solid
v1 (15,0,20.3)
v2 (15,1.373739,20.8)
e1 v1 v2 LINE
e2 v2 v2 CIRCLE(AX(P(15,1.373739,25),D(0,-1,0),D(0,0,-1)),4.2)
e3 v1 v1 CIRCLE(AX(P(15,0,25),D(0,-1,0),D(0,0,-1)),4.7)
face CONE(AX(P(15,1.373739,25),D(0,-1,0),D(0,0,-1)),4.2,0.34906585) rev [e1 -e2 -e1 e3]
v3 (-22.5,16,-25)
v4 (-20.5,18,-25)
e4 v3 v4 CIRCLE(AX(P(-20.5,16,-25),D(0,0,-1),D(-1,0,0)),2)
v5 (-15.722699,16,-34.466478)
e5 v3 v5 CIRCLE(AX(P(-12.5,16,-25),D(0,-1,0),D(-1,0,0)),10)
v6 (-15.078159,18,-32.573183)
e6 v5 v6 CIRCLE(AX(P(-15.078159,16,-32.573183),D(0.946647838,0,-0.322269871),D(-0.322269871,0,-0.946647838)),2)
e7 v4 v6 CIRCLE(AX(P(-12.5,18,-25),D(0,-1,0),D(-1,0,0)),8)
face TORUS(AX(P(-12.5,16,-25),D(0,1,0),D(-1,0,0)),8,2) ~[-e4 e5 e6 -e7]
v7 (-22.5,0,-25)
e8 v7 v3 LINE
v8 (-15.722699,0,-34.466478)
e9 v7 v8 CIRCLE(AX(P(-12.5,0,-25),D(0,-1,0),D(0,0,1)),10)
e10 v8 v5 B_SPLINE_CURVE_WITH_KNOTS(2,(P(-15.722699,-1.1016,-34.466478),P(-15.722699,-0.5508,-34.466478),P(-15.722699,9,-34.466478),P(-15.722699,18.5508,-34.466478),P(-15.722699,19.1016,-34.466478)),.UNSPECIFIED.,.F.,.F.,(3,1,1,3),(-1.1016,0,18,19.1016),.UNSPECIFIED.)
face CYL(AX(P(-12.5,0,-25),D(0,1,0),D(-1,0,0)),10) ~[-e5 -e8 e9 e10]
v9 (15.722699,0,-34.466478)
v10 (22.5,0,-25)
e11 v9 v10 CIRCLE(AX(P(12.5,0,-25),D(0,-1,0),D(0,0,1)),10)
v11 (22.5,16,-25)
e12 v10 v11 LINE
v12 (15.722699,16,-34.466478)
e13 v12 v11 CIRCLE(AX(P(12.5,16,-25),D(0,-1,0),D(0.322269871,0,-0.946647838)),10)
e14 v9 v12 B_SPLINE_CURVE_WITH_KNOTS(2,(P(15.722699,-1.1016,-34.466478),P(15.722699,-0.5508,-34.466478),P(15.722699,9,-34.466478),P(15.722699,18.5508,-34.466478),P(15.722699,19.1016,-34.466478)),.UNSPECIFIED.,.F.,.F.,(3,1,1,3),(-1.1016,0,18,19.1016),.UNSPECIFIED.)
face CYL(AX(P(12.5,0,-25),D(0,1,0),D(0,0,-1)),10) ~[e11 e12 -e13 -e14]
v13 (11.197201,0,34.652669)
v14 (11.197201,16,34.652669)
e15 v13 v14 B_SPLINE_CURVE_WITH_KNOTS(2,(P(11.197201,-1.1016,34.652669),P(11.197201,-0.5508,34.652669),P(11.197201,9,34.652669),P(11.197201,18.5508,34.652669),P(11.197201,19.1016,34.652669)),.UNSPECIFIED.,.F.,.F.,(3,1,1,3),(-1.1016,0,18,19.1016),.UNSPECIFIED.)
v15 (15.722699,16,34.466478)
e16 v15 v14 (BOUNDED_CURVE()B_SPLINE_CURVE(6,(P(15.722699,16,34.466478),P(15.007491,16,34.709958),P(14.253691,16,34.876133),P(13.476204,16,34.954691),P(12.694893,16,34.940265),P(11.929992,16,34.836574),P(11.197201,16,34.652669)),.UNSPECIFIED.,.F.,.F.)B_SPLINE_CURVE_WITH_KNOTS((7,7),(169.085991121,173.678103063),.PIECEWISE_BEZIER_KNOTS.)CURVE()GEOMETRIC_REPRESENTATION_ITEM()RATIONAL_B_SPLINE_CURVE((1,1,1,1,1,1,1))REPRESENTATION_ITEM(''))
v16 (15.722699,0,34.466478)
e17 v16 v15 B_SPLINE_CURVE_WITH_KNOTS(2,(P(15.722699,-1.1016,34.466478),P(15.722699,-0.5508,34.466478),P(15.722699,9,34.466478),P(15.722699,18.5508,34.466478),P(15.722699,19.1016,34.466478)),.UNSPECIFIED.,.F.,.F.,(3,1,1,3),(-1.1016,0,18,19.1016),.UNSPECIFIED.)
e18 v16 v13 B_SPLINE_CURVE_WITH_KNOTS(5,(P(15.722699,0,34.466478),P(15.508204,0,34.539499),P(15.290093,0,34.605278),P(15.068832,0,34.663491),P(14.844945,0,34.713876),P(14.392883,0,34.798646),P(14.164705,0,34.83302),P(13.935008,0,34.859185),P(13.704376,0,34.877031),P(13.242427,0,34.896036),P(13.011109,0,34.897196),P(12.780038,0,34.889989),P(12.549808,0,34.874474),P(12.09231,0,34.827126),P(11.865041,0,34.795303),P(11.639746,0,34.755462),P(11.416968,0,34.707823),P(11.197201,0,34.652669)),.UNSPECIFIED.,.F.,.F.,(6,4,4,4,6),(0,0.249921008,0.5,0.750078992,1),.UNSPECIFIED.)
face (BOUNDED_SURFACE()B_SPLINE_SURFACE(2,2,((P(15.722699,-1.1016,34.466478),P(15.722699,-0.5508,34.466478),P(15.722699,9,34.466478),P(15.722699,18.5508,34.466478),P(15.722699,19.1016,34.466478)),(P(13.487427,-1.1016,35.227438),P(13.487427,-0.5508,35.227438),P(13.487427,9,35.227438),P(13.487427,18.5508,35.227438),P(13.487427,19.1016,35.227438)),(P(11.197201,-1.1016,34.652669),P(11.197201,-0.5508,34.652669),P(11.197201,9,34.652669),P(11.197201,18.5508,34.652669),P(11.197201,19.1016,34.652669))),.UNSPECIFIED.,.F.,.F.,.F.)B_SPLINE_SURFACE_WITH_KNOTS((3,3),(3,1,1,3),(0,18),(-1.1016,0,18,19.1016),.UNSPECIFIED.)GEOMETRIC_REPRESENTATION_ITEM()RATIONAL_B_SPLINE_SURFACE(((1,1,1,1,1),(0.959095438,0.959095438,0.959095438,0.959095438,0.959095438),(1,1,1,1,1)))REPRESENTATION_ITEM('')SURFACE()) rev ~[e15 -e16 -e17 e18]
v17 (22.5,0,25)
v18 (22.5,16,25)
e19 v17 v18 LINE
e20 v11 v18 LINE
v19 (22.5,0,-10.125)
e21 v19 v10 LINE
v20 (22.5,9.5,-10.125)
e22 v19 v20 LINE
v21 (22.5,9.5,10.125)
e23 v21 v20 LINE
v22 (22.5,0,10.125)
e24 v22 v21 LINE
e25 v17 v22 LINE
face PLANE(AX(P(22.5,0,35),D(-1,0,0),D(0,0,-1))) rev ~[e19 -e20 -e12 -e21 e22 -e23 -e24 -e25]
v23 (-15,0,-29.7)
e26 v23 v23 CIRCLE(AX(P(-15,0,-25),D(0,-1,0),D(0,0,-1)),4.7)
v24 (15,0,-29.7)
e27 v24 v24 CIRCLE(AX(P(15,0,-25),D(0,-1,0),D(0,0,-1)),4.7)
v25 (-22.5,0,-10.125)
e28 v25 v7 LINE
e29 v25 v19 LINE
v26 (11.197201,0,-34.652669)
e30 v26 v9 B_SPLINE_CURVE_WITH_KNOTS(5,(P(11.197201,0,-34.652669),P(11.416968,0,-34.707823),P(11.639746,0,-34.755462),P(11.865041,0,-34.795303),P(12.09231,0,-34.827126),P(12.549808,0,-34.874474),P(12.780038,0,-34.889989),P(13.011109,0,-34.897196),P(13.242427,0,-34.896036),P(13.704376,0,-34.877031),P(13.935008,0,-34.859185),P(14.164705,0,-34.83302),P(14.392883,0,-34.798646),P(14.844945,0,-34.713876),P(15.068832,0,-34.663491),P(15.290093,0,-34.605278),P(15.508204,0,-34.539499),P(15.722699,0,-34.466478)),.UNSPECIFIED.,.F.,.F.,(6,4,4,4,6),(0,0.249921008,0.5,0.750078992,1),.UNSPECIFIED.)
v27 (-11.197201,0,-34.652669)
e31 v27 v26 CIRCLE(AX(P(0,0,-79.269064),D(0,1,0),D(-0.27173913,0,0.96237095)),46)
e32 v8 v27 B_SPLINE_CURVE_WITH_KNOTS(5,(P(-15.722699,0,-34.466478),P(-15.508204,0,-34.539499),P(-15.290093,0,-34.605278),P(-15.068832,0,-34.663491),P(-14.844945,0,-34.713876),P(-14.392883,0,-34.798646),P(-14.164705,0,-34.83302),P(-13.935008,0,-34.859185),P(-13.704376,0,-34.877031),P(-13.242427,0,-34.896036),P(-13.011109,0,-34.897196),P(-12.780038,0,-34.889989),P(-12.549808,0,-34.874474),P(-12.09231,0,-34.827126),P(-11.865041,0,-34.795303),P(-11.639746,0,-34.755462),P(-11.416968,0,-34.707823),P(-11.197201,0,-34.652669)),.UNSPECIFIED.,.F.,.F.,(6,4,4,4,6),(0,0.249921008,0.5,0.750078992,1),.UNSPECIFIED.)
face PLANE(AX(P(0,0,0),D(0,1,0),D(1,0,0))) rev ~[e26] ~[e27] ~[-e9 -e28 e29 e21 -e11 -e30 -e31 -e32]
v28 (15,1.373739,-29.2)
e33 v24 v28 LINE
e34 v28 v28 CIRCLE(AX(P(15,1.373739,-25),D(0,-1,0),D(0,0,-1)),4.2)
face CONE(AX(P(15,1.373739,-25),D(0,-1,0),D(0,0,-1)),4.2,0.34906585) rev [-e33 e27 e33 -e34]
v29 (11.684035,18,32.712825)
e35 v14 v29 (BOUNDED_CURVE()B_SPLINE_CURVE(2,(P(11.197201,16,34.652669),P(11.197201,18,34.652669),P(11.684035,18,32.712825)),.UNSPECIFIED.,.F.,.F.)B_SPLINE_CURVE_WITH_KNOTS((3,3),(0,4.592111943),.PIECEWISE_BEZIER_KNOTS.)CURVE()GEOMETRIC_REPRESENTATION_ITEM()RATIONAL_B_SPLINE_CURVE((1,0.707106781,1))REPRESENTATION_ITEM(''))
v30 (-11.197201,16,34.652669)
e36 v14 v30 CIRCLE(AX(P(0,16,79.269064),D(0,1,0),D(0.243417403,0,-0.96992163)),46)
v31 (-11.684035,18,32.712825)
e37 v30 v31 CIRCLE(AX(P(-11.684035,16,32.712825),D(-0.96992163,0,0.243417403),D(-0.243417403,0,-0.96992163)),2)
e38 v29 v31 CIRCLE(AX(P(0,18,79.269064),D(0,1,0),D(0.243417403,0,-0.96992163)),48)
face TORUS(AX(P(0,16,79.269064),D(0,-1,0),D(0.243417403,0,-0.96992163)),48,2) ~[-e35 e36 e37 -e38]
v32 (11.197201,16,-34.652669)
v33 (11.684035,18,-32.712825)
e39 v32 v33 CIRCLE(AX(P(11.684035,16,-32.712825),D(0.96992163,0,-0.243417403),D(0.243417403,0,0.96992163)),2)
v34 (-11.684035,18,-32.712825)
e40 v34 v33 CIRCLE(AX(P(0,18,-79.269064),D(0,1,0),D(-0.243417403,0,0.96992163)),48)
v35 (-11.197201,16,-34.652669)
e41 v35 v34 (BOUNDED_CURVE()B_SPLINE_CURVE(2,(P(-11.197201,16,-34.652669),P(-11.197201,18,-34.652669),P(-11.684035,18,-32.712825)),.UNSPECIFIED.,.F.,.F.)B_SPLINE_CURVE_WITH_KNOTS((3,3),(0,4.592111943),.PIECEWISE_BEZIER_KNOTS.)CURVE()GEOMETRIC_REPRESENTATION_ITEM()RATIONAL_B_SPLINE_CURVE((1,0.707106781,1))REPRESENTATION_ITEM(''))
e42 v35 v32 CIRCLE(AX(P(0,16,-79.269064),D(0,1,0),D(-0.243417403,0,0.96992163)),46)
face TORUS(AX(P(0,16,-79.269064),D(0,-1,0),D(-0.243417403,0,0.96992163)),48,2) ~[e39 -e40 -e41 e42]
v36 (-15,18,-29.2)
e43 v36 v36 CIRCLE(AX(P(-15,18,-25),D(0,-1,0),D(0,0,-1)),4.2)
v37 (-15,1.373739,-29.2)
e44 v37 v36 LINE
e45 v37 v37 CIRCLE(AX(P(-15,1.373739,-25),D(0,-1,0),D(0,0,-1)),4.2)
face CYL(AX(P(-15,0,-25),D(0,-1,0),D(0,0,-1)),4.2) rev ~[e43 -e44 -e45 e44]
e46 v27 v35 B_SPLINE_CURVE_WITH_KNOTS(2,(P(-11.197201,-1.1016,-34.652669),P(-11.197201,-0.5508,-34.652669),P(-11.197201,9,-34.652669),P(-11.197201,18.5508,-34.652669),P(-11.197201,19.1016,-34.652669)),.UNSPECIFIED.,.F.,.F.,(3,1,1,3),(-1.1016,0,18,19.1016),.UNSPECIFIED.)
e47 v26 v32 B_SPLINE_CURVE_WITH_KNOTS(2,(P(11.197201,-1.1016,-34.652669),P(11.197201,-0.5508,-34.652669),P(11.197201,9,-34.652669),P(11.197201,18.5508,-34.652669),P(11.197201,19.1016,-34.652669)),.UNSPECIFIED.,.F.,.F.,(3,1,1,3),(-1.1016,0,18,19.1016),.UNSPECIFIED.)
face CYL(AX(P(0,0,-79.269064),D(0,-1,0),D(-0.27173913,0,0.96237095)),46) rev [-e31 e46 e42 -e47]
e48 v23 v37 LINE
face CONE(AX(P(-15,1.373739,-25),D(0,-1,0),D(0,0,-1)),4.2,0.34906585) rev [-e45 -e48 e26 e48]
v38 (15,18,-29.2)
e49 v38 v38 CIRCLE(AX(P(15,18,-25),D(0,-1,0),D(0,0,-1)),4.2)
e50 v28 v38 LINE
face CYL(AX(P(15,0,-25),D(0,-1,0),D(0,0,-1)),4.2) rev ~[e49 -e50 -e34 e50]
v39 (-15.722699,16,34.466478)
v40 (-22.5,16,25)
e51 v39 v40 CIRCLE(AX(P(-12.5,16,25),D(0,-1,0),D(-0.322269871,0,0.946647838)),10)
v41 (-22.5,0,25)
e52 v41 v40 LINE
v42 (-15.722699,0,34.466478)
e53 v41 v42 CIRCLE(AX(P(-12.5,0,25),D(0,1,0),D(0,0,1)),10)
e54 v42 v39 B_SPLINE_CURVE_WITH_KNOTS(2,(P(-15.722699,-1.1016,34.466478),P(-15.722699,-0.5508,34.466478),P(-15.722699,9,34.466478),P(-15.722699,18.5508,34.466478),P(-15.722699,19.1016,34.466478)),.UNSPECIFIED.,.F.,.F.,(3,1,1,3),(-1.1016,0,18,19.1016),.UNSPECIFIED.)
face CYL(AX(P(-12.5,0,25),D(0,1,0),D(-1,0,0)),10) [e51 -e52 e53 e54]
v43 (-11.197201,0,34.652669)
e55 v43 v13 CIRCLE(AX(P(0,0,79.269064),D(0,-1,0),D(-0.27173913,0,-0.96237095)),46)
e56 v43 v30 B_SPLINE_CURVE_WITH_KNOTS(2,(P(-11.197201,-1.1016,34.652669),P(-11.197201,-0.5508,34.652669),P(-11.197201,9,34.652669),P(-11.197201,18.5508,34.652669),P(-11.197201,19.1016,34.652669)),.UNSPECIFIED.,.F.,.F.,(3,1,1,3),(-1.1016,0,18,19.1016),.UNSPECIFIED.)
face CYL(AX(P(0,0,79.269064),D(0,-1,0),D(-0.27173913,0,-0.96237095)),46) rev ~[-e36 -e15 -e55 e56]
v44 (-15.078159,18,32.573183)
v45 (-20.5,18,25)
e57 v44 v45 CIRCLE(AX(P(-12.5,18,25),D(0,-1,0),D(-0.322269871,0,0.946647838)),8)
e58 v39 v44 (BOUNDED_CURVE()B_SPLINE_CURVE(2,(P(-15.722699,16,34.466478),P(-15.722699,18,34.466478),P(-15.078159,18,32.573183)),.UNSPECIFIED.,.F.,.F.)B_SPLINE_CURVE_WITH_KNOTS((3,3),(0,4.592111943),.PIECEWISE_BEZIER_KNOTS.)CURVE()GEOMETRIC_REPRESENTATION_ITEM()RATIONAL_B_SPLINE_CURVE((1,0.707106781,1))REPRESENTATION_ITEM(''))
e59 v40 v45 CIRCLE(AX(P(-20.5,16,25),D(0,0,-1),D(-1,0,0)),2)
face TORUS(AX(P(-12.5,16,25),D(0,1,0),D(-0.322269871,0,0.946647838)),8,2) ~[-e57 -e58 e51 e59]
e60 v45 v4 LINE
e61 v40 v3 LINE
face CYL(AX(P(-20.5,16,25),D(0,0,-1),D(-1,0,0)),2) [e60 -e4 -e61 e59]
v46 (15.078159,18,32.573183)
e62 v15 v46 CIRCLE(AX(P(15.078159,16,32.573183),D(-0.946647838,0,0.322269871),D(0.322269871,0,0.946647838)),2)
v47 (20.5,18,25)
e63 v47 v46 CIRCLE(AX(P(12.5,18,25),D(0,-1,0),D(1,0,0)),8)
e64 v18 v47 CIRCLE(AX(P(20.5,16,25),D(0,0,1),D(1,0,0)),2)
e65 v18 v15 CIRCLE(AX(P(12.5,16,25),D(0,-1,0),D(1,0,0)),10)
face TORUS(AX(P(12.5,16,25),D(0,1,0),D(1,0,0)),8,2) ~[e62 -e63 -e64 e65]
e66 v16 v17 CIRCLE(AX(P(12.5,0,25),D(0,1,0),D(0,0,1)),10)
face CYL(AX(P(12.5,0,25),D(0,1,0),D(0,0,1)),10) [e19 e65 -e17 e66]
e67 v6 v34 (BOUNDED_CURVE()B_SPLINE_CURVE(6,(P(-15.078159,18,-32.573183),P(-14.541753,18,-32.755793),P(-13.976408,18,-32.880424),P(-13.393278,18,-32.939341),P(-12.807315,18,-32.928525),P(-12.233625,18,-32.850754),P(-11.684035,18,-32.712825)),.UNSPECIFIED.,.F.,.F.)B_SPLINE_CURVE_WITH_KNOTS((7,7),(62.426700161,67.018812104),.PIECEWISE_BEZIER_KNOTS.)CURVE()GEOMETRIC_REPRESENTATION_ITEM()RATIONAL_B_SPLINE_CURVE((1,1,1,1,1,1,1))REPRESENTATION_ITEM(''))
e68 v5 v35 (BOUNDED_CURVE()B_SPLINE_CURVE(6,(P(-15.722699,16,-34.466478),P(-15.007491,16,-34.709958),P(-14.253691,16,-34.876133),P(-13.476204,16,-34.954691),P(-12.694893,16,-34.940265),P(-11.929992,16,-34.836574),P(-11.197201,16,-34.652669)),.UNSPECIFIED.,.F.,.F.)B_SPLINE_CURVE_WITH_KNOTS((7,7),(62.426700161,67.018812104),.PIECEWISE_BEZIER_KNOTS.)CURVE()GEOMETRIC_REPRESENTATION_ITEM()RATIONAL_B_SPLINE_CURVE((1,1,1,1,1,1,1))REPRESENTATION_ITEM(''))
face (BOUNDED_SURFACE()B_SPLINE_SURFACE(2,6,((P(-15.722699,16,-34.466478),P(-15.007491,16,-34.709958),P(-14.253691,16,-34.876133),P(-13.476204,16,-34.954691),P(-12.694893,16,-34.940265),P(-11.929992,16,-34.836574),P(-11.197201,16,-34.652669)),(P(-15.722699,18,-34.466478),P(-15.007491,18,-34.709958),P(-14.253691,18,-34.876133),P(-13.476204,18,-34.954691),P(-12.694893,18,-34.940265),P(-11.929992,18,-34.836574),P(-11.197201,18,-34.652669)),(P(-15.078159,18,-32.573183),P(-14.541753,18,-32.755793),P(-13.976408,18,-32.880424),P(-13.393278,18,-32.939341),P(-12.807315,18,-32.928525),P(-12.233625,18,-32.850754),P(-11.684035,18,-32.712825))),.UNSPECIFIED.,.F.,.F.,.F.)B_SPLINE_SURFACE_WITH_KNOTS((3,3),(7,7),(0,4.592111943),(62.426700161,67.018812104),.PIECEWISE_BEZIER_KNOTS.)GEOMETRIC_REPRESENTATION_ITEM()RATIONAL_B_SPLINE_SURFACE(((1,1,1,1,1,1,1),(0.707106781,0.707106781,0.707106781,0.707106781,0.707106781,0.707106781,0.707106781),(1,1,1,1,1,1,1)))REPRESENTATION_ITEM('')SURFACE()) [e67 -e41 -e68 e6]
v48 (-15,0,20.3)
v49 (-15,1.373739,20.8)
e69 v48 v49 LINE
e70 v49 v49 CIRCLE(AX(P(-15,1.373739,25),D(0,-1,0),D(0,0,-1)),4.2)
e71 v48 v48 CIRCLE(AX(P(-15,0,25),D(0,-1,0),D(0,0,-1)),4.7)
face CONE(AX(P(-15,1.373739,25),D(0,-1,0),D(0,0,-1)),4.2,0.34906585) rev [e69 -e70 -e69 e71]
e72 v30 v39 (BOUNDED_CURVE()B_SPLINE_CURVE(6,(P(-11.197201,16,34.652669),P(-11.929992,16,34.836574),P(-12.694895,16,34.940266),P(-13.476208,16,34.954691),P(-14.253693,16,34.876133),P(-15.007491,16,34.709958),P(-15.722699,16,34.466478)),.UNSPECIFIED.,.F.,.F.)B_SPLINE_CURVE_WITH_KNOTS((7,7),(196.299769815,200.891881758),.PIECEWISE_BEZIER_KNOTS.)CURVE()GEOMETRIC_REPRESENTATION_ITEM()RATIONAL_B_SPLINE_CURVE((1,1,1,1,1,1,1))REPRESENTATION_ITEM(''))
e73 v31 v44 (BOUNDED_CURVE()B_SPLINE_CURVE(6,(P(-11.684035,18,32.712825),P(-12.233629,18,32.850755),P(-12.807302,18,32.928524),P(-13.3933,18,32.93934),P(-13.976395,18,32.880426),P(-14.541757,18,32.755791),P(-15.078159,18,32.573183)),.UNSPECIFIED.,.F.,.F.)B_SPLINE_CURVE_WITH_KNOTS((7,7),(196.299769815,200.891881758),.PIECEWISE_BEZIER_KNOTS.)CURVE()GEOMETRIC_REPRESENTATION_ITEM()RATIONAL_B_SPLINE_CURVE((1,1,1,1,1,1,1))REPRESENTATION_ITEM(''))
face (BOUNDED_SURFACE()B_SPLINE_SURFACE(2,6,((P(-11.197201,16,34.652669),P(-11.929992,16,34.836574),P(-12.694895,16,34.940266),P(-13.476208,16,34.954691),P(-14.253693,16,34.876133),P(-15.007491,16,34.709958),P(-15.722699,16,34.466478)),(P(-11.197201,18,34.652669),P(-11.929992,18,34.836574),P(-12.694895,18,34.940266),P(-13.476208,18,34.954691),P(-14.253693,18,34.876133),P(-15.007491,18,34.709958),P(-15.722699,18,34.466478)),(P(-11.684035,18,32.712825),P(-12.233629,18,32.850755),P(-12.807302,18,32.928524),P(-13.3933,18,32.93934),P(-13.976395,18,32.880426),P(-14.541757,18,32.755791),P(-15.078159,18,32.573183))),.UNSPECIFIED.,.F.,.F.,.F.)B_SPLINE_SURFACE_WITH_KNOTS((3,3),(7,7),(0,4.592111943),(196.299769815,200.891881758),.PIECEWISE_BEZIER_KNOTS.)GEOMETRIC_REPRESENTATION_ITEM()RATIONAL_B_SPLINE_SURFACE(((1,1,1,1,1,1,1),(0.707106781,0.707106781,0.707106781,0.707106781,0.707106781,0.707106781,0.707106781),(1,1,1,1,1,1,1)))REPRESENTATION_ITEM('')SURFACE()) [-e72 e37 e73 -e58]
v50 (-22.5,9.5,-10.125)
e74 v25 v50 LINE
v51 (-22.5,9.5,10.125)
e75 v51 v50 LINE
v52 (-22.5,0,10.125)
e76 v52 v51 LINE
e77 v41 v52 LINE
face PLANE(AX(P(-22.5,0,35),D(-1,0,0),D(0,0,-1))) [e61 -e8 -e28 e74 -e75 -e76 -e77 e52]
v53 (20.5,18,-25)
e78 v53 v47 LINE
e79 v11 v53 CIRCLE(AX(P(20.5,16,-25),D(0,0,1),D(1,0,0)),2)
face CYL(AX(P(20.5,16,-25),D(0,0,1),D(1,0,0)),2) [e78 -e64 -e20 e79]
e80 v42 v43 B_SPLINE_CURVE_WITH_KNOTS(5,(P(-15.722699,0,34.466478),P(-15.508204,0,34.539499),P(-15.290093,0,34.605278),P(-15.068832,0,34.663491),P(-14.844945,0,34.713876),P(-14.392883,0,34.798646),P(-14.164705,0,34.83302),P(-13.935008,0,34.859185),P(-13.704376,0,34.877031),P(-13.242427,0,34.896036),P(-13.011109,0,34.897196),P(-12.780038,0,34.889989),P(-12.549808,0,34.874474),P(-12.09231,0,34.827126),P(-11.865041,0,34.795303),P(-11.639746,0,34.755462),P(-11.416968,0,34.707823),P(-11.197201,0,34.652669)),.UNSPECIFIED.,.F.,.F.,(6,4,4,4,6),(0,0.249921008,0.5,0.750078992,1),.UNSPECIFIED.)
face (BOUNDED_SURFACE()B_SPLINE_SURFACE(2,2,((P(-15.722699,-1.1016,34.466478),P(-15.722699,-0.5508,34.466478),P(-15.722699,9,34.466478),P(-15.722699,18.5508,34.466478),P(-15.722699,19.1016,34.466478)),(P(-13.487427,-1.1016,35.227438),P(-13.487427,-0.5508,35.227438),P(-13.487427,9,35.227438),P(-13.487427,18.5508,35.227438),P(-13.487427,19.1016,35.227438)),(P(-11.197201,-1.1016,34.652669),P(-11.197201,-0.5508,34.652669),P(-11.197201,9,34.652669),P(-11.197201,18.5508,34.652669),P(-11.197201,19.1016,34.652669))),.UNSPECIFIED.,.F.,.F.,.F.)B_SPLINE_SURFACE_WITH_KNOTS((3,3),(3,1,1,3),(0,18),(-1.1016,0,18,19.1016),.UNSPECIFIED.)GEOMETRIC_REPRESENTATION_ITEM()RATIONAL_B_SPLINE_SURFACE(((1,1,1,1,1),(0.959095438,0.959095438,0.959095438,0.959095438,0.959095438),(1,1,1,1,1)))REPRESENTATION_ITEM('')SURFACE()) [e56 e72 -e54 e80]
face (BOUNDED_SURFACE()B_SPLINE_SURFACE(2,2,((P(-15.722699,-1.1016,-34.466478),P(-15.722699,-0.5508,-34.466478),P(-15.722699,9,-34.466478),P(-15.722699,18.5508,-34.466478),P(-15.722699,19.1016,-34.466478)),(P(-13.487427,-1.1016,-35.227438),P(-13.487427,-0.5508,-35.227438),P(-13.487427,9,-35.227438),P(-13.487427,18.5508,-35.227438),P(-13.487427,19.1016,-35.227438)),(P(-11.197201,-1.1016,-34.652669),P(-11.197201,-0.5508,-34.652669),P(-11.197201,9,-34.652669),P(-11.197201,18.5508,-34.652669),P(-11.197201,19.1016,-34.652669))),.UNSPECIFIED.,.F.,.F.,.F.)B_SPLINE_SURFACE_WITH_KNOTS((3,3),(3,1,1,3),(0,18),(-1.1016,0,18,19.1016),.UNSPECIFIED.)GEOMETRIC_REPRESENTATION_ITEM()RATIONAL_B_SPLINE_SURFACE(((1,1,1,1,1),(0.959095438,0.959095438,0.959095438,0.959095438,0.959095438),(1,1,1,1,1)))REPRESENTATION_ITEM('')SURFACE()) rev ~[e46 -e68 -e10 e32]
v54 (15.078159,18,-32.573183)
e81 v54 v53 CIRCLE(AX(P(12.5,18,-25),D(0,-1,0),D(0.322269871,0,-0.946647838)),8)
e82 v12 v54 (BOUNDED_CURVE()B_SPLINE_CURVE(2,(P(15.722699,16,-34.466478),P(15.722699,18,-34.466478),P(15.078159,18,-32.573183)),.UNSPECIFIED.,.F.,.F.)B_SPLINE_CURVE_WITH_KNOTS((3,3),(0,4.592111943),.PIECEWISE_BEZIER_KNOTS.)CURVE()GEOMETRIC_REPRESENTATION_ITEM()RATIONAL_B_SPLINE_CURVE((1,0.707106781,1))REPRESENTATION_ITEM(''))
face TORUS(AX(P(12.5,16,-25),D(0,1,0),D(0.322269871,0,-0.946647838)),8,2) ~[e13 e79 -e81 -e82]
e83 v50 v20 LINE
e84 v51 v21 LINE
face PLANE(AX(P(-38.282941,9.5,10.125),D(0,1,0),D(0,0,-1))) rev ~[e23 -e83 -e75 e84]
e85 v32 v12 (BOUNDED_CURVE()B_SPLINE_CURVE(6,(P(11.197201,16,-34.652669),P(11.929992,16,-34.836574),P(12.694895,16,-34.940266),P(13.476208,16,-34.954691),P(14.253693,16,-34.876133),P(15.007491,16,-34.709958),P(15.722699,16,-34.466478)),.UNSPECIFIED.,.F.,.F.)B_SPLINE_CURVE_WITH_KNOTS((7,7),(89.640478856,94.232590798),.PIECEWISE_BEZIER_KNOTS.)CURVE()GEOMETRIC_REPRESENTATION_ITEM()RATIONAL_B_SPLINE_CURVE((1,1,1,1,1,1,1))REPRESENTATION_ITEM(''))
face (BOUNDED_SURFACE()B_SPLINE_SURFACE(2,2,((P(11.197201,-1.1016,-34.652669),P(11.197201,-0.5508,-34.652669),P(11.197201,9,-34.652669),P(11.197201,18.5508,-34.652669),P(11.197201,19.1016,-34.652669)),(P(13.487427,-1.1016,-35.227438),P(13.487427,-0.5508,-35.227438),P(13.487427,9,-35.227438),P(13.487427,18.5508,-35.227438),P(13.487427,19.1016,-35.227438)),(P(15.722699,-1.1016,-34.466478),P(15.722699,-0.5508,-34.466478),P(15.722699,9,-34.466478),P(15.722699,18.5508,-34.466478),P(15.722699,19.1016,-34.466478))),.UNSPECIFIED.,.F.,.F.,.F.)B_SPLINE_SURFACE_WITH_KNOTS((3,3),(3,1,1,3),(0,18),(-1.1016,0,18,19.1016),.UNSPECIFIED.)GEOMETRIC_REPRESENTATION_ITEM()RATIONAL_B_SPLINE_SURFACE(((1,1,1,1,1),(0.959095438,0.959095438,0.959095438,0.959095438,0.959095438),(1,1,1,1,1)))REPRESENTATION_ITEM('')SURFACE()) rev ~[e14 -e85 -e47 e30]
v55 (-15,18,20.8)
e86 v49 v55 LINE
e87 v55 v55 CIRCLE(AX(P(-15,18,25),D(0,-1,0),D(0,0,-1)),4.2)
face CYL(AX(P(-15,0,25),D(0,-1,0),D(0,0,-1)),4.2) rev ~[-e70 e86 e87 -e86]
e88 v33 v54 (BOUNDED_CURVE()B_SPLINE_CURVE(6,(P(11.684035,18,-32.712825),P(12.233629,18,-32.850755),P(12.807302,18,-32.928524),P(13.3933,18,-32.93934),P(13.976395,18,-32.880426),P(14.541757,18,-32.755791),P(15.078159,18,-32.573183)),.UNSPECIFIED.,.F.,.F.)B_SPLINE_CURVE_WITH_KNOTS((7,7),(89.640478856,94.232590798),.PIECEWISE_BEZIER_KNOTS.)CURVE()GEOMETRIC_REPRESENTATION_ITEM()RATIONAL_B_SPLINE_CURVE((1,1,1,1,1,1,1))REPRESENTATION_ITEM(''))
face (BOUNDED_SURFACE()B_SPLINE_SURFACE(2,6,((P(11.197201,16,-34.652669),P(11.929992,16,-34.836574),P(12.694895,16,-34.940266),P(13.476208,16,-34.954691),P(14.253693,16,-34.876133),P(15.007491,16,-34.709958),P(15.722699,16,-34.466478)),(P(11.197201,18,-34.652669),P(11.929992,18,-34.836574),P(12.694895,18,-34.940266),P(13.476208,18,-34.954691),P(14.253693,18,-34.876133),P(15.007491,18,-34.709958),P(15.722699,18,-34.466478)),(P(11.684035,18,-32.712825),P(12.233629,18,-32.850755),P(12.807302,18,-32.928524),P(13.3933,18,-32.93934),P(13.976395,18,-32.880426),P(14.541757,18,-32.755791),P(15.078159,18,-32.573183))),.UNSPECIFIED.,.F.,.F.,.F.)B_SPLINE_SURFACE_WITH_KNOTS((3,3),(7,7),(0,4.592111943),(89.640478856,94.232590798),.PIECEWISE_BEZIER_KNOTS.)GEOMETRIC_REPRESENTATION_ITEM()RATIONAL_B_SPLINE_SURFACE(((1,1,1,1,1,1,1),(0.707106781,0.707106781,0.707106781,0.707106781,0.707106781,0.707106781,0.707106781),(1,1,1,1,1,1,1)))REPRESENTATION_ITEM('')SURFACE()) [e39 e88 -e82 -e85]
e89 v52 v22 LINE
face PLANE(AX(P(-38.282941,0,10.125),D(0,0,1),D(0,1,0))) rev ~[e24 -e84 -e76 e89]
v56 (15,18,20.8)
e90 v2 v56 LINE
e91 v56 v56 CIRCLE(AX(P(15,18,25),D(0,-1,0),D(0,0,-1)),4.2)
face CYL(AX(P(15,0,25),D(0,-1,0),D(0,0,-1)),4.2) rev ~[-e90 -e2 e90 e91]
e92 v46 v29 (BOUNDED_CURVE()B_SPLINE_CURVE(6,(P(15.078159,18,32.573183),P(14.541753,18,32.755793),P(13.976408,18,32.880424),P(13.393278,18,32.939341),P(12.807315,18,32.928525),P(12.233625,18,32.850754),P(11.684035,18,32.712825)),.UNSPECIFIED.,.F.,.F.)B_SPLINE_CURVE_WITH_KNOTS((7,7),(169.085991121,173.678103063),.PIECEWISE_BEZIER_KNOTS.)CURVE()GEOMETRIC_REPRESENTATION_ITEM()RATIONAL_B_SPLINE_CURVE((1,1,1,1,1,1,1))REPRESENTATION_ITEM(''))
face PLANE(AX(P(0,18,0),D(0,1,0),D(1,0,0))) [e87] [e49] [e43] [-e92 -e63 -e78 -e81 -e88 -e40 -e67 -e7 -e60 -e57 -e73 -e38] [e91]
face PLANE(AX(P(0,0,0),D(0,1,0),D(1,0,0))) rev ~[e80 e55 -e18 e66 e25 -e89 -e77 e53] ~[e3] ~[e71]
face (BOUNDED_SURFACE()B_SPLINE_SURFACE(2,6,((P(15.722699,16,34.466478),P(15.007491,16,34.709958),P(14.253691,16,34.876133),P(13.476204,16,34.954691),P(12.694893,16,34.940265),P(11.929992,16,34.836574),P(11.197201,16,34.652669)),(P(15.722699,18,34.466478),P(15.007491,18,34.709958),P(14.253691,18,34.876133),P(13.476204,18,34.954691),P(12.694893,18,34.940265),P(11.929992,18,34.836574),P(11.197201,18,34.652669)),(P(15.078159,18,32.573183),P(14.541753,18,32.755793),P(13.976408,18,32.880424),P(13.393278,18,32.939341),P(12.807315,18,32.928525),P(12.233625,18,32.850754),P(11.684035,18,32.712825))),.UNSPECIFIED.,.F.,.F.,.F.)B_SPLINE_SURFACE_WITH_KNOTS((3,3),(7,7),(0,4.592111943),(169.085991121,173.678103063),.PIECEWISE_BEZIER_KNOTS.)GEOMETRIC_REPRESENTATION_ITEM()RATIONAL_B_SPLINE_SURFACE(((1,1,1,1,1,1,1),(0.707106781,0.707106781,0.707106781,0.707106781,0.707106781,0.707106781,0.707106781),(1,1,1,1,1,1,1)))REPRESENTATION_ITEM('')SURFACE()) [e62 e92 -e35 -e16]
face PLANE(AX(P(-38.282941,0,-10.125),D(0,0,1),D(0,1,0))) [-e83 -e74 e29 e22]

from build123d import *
from OCP.BRepFilletAPI import BRepFilletAPI_MakeChamfer

# Parameters (mm, degrees)
SKETCH1_W               = 45
SKETCH1_H               = 70
BOSS_EXTRUDE1_DEPTH     = 18
CUT_EXTRUDE1_DEPTH      = 60.782940711
CUT_EXTRUDE1_DEPTH_BACK = 60.782940711
SKETCH2_W               = 20.25
SKETCH2_H               = 9.5
SKETCH3_R               = 4.2
CUT_EXTRUDE2_DEPTH      = 46.33486517
FILLET1_R               = 10
CUT_EXTRUDE3_DEPTH      = 46.33486517
FILLET2_R               = 8
FILLET4_R               = 2
CHAMFER1_SIZE           = 0.5
CHAMFER1_SIZE2          = 1.37373871


with BuildPart() as part:
    # Sketch1 → Boss-Extrude1 (new body)
    with BuildSketch(Plane(origin=(0, 0, 0), x_dir=(1, 0, 0), z_dir=(0, 1, 0))):
        Rectangle(SKETCH1_W, SKETCH1_H)
    extrude(amount=BOSS_EXTRUDE1_DEPTH)

    # Sketch2 → Cut-Extrude1 (cut, two sides: drawn at the far end of the back side and taken through both)
    with BuildSketch(Plane(origin=(22.5, 0, 0), x_dir=(0, 0, -1), z_dir=(1, 0, 0)).offset(-CUT_EXTRUDE1_DEPTH_BACK)):
        with Locations((0, 4.75)):
            Rectangle(SKETCH2_W, SKETCH2_H)
    extrude(amount=CUT_EXTRUDE1_DEPTH + CUT_EXTRUDE1_DEPTH_BACK, mode=Mode.SUBTRACT)

    # Sketch3 → Cut-Extrude2 (cut, through all)
    with BuildSketch(Plane.XZ):
        with Locations(Location((15, 25, 0), (0, 0, 270))):
            Circle(SKETCH3_R)
        with Locations(Location((15, -25, 0), (0, 0, 270))):
            Circle(SKETCH3_R)
        with Locations(Location((-15, -25, 0), (0, 0, 270))):
            Circle(SKETCH3_R)
        with Locations(Location((-15, 25, 0), (0, 0, 270))):
            Circle(SKETCH3_R)
    extrude(amount=-CUT_EXTRUDE2_DEPTH, mode=Mode.SUBTRACT)

    # Fillet1
    fillet1_edges = [part.edges().sort_by_distance(p)[0] for p in [
        (-22.5, 9, -35),
        (22.5, 9, -35),
        (22.5, 9, 35),
        (-22.5, 9, 35),
    ]]
    fillet(fillet1_edges, radius=FILLET1_R)

    # Sketch6 → Cut-Extrude3 (cut, through all)
    with BuildSketch(Plane.XZ):
        with BuildLine():
            Line((12.5, 35), (-12.5, 35))
            ThreePointArc((-12.5, 35), (0, 33.26906369), (12.5, 35))
        make_face()
        with BuildLine():
            Line((12.5, -35), (-12.5, -35))
            ThreePointArc((-12.5, -35), (0, -33.26906369), (12.5, -35))
        make_face()
    extrude(amount=-CUT_EXTRUDE3_DEPTH, mode=Mode.SUBTRACT)

    # Fillet2
    fillet2_edges = [part.edges().sort_by_distance(p)[0] for p in [
        (12.5, 9, 35),
        (-12.5, 9, 35),
        (12.5, 9, -35),
        (-12.5, 9, -35),
    ]]
    fillet(fillet2_edges, radius=FILLET2_R)

    # Fillet4
    fillet4_edges = [part.edges().sort_by_distance(p)[0] for p in [
        (-22.5, 18, 0),
        (22.5, 18, 0),
        (20.63102045, 18, -30.821211768),
        (-20.63102045, 18, 30.821211768),
        (0, 18, 33.26906369),
        (20.63102045, 18, 30.821211768),
        (0, 18, -33.26906369),
        (-20.63102045, 18, -30.821211768),
        (13.473401565, 18, -34.886533438),
        (-13.473401565, 18, -34.886533438),
        (-13.473401565, 18, 34.886533438),
        (13.473401565, 18, 34.886533438),
    ]]
    fillet(fillet4_edges, radius=FILLET4_R)

    # Chamfer1: one chamfer whose edges measure the first distance from different faces: ONE call of the kernel's chamfer builder (chamfer() names one face for all edges)
    chamfer1_edges_1 = [part.edges().sort_by_distance(p)[0] for p in [
        (-15, 0, -20.8),
        (15, 0, -20.8),
    ]]
    chamfer1_side_1 = [part.faces().sort_by_distance(p)[0] for p in [
        (0, 0, -21.437561791),
    ]]
    chamfer1_edges_2 = [part.edges().sort_by_distance(p)[0] for p in [
        (-15, 0, 29.2),
        (15, 0, 29.2),
    ]]
    chamfer1_side_2 = [part.faces().sort_by_distance(p)[0] for p in [
        (0, 0, 21.437561791),
    ]]
    chamfer1 = BRepFilletAPI_MakeChamfer(part.part.solid().wrapped)
    for e in chamfer1_edges_1:
        chamfer1.Add(CHAMFER1_SIZE, CHAMFER1_SIZE2, e.wrapped, chamfer1_side_1[0].wrapped)  # the first distance lies on this face
    for e in chamfer1_edges_2:
        chamfer1.Add(CHAMFER1_SIZE, CHAMFER1_SIZE2, e.wrapped, chamfer1_side_2[0].wrapped)  # the first distance lies on this face
    add(Compound.cast(chamfer1.Shape()), mode=Mode.REPLACE)


solid = part.part
